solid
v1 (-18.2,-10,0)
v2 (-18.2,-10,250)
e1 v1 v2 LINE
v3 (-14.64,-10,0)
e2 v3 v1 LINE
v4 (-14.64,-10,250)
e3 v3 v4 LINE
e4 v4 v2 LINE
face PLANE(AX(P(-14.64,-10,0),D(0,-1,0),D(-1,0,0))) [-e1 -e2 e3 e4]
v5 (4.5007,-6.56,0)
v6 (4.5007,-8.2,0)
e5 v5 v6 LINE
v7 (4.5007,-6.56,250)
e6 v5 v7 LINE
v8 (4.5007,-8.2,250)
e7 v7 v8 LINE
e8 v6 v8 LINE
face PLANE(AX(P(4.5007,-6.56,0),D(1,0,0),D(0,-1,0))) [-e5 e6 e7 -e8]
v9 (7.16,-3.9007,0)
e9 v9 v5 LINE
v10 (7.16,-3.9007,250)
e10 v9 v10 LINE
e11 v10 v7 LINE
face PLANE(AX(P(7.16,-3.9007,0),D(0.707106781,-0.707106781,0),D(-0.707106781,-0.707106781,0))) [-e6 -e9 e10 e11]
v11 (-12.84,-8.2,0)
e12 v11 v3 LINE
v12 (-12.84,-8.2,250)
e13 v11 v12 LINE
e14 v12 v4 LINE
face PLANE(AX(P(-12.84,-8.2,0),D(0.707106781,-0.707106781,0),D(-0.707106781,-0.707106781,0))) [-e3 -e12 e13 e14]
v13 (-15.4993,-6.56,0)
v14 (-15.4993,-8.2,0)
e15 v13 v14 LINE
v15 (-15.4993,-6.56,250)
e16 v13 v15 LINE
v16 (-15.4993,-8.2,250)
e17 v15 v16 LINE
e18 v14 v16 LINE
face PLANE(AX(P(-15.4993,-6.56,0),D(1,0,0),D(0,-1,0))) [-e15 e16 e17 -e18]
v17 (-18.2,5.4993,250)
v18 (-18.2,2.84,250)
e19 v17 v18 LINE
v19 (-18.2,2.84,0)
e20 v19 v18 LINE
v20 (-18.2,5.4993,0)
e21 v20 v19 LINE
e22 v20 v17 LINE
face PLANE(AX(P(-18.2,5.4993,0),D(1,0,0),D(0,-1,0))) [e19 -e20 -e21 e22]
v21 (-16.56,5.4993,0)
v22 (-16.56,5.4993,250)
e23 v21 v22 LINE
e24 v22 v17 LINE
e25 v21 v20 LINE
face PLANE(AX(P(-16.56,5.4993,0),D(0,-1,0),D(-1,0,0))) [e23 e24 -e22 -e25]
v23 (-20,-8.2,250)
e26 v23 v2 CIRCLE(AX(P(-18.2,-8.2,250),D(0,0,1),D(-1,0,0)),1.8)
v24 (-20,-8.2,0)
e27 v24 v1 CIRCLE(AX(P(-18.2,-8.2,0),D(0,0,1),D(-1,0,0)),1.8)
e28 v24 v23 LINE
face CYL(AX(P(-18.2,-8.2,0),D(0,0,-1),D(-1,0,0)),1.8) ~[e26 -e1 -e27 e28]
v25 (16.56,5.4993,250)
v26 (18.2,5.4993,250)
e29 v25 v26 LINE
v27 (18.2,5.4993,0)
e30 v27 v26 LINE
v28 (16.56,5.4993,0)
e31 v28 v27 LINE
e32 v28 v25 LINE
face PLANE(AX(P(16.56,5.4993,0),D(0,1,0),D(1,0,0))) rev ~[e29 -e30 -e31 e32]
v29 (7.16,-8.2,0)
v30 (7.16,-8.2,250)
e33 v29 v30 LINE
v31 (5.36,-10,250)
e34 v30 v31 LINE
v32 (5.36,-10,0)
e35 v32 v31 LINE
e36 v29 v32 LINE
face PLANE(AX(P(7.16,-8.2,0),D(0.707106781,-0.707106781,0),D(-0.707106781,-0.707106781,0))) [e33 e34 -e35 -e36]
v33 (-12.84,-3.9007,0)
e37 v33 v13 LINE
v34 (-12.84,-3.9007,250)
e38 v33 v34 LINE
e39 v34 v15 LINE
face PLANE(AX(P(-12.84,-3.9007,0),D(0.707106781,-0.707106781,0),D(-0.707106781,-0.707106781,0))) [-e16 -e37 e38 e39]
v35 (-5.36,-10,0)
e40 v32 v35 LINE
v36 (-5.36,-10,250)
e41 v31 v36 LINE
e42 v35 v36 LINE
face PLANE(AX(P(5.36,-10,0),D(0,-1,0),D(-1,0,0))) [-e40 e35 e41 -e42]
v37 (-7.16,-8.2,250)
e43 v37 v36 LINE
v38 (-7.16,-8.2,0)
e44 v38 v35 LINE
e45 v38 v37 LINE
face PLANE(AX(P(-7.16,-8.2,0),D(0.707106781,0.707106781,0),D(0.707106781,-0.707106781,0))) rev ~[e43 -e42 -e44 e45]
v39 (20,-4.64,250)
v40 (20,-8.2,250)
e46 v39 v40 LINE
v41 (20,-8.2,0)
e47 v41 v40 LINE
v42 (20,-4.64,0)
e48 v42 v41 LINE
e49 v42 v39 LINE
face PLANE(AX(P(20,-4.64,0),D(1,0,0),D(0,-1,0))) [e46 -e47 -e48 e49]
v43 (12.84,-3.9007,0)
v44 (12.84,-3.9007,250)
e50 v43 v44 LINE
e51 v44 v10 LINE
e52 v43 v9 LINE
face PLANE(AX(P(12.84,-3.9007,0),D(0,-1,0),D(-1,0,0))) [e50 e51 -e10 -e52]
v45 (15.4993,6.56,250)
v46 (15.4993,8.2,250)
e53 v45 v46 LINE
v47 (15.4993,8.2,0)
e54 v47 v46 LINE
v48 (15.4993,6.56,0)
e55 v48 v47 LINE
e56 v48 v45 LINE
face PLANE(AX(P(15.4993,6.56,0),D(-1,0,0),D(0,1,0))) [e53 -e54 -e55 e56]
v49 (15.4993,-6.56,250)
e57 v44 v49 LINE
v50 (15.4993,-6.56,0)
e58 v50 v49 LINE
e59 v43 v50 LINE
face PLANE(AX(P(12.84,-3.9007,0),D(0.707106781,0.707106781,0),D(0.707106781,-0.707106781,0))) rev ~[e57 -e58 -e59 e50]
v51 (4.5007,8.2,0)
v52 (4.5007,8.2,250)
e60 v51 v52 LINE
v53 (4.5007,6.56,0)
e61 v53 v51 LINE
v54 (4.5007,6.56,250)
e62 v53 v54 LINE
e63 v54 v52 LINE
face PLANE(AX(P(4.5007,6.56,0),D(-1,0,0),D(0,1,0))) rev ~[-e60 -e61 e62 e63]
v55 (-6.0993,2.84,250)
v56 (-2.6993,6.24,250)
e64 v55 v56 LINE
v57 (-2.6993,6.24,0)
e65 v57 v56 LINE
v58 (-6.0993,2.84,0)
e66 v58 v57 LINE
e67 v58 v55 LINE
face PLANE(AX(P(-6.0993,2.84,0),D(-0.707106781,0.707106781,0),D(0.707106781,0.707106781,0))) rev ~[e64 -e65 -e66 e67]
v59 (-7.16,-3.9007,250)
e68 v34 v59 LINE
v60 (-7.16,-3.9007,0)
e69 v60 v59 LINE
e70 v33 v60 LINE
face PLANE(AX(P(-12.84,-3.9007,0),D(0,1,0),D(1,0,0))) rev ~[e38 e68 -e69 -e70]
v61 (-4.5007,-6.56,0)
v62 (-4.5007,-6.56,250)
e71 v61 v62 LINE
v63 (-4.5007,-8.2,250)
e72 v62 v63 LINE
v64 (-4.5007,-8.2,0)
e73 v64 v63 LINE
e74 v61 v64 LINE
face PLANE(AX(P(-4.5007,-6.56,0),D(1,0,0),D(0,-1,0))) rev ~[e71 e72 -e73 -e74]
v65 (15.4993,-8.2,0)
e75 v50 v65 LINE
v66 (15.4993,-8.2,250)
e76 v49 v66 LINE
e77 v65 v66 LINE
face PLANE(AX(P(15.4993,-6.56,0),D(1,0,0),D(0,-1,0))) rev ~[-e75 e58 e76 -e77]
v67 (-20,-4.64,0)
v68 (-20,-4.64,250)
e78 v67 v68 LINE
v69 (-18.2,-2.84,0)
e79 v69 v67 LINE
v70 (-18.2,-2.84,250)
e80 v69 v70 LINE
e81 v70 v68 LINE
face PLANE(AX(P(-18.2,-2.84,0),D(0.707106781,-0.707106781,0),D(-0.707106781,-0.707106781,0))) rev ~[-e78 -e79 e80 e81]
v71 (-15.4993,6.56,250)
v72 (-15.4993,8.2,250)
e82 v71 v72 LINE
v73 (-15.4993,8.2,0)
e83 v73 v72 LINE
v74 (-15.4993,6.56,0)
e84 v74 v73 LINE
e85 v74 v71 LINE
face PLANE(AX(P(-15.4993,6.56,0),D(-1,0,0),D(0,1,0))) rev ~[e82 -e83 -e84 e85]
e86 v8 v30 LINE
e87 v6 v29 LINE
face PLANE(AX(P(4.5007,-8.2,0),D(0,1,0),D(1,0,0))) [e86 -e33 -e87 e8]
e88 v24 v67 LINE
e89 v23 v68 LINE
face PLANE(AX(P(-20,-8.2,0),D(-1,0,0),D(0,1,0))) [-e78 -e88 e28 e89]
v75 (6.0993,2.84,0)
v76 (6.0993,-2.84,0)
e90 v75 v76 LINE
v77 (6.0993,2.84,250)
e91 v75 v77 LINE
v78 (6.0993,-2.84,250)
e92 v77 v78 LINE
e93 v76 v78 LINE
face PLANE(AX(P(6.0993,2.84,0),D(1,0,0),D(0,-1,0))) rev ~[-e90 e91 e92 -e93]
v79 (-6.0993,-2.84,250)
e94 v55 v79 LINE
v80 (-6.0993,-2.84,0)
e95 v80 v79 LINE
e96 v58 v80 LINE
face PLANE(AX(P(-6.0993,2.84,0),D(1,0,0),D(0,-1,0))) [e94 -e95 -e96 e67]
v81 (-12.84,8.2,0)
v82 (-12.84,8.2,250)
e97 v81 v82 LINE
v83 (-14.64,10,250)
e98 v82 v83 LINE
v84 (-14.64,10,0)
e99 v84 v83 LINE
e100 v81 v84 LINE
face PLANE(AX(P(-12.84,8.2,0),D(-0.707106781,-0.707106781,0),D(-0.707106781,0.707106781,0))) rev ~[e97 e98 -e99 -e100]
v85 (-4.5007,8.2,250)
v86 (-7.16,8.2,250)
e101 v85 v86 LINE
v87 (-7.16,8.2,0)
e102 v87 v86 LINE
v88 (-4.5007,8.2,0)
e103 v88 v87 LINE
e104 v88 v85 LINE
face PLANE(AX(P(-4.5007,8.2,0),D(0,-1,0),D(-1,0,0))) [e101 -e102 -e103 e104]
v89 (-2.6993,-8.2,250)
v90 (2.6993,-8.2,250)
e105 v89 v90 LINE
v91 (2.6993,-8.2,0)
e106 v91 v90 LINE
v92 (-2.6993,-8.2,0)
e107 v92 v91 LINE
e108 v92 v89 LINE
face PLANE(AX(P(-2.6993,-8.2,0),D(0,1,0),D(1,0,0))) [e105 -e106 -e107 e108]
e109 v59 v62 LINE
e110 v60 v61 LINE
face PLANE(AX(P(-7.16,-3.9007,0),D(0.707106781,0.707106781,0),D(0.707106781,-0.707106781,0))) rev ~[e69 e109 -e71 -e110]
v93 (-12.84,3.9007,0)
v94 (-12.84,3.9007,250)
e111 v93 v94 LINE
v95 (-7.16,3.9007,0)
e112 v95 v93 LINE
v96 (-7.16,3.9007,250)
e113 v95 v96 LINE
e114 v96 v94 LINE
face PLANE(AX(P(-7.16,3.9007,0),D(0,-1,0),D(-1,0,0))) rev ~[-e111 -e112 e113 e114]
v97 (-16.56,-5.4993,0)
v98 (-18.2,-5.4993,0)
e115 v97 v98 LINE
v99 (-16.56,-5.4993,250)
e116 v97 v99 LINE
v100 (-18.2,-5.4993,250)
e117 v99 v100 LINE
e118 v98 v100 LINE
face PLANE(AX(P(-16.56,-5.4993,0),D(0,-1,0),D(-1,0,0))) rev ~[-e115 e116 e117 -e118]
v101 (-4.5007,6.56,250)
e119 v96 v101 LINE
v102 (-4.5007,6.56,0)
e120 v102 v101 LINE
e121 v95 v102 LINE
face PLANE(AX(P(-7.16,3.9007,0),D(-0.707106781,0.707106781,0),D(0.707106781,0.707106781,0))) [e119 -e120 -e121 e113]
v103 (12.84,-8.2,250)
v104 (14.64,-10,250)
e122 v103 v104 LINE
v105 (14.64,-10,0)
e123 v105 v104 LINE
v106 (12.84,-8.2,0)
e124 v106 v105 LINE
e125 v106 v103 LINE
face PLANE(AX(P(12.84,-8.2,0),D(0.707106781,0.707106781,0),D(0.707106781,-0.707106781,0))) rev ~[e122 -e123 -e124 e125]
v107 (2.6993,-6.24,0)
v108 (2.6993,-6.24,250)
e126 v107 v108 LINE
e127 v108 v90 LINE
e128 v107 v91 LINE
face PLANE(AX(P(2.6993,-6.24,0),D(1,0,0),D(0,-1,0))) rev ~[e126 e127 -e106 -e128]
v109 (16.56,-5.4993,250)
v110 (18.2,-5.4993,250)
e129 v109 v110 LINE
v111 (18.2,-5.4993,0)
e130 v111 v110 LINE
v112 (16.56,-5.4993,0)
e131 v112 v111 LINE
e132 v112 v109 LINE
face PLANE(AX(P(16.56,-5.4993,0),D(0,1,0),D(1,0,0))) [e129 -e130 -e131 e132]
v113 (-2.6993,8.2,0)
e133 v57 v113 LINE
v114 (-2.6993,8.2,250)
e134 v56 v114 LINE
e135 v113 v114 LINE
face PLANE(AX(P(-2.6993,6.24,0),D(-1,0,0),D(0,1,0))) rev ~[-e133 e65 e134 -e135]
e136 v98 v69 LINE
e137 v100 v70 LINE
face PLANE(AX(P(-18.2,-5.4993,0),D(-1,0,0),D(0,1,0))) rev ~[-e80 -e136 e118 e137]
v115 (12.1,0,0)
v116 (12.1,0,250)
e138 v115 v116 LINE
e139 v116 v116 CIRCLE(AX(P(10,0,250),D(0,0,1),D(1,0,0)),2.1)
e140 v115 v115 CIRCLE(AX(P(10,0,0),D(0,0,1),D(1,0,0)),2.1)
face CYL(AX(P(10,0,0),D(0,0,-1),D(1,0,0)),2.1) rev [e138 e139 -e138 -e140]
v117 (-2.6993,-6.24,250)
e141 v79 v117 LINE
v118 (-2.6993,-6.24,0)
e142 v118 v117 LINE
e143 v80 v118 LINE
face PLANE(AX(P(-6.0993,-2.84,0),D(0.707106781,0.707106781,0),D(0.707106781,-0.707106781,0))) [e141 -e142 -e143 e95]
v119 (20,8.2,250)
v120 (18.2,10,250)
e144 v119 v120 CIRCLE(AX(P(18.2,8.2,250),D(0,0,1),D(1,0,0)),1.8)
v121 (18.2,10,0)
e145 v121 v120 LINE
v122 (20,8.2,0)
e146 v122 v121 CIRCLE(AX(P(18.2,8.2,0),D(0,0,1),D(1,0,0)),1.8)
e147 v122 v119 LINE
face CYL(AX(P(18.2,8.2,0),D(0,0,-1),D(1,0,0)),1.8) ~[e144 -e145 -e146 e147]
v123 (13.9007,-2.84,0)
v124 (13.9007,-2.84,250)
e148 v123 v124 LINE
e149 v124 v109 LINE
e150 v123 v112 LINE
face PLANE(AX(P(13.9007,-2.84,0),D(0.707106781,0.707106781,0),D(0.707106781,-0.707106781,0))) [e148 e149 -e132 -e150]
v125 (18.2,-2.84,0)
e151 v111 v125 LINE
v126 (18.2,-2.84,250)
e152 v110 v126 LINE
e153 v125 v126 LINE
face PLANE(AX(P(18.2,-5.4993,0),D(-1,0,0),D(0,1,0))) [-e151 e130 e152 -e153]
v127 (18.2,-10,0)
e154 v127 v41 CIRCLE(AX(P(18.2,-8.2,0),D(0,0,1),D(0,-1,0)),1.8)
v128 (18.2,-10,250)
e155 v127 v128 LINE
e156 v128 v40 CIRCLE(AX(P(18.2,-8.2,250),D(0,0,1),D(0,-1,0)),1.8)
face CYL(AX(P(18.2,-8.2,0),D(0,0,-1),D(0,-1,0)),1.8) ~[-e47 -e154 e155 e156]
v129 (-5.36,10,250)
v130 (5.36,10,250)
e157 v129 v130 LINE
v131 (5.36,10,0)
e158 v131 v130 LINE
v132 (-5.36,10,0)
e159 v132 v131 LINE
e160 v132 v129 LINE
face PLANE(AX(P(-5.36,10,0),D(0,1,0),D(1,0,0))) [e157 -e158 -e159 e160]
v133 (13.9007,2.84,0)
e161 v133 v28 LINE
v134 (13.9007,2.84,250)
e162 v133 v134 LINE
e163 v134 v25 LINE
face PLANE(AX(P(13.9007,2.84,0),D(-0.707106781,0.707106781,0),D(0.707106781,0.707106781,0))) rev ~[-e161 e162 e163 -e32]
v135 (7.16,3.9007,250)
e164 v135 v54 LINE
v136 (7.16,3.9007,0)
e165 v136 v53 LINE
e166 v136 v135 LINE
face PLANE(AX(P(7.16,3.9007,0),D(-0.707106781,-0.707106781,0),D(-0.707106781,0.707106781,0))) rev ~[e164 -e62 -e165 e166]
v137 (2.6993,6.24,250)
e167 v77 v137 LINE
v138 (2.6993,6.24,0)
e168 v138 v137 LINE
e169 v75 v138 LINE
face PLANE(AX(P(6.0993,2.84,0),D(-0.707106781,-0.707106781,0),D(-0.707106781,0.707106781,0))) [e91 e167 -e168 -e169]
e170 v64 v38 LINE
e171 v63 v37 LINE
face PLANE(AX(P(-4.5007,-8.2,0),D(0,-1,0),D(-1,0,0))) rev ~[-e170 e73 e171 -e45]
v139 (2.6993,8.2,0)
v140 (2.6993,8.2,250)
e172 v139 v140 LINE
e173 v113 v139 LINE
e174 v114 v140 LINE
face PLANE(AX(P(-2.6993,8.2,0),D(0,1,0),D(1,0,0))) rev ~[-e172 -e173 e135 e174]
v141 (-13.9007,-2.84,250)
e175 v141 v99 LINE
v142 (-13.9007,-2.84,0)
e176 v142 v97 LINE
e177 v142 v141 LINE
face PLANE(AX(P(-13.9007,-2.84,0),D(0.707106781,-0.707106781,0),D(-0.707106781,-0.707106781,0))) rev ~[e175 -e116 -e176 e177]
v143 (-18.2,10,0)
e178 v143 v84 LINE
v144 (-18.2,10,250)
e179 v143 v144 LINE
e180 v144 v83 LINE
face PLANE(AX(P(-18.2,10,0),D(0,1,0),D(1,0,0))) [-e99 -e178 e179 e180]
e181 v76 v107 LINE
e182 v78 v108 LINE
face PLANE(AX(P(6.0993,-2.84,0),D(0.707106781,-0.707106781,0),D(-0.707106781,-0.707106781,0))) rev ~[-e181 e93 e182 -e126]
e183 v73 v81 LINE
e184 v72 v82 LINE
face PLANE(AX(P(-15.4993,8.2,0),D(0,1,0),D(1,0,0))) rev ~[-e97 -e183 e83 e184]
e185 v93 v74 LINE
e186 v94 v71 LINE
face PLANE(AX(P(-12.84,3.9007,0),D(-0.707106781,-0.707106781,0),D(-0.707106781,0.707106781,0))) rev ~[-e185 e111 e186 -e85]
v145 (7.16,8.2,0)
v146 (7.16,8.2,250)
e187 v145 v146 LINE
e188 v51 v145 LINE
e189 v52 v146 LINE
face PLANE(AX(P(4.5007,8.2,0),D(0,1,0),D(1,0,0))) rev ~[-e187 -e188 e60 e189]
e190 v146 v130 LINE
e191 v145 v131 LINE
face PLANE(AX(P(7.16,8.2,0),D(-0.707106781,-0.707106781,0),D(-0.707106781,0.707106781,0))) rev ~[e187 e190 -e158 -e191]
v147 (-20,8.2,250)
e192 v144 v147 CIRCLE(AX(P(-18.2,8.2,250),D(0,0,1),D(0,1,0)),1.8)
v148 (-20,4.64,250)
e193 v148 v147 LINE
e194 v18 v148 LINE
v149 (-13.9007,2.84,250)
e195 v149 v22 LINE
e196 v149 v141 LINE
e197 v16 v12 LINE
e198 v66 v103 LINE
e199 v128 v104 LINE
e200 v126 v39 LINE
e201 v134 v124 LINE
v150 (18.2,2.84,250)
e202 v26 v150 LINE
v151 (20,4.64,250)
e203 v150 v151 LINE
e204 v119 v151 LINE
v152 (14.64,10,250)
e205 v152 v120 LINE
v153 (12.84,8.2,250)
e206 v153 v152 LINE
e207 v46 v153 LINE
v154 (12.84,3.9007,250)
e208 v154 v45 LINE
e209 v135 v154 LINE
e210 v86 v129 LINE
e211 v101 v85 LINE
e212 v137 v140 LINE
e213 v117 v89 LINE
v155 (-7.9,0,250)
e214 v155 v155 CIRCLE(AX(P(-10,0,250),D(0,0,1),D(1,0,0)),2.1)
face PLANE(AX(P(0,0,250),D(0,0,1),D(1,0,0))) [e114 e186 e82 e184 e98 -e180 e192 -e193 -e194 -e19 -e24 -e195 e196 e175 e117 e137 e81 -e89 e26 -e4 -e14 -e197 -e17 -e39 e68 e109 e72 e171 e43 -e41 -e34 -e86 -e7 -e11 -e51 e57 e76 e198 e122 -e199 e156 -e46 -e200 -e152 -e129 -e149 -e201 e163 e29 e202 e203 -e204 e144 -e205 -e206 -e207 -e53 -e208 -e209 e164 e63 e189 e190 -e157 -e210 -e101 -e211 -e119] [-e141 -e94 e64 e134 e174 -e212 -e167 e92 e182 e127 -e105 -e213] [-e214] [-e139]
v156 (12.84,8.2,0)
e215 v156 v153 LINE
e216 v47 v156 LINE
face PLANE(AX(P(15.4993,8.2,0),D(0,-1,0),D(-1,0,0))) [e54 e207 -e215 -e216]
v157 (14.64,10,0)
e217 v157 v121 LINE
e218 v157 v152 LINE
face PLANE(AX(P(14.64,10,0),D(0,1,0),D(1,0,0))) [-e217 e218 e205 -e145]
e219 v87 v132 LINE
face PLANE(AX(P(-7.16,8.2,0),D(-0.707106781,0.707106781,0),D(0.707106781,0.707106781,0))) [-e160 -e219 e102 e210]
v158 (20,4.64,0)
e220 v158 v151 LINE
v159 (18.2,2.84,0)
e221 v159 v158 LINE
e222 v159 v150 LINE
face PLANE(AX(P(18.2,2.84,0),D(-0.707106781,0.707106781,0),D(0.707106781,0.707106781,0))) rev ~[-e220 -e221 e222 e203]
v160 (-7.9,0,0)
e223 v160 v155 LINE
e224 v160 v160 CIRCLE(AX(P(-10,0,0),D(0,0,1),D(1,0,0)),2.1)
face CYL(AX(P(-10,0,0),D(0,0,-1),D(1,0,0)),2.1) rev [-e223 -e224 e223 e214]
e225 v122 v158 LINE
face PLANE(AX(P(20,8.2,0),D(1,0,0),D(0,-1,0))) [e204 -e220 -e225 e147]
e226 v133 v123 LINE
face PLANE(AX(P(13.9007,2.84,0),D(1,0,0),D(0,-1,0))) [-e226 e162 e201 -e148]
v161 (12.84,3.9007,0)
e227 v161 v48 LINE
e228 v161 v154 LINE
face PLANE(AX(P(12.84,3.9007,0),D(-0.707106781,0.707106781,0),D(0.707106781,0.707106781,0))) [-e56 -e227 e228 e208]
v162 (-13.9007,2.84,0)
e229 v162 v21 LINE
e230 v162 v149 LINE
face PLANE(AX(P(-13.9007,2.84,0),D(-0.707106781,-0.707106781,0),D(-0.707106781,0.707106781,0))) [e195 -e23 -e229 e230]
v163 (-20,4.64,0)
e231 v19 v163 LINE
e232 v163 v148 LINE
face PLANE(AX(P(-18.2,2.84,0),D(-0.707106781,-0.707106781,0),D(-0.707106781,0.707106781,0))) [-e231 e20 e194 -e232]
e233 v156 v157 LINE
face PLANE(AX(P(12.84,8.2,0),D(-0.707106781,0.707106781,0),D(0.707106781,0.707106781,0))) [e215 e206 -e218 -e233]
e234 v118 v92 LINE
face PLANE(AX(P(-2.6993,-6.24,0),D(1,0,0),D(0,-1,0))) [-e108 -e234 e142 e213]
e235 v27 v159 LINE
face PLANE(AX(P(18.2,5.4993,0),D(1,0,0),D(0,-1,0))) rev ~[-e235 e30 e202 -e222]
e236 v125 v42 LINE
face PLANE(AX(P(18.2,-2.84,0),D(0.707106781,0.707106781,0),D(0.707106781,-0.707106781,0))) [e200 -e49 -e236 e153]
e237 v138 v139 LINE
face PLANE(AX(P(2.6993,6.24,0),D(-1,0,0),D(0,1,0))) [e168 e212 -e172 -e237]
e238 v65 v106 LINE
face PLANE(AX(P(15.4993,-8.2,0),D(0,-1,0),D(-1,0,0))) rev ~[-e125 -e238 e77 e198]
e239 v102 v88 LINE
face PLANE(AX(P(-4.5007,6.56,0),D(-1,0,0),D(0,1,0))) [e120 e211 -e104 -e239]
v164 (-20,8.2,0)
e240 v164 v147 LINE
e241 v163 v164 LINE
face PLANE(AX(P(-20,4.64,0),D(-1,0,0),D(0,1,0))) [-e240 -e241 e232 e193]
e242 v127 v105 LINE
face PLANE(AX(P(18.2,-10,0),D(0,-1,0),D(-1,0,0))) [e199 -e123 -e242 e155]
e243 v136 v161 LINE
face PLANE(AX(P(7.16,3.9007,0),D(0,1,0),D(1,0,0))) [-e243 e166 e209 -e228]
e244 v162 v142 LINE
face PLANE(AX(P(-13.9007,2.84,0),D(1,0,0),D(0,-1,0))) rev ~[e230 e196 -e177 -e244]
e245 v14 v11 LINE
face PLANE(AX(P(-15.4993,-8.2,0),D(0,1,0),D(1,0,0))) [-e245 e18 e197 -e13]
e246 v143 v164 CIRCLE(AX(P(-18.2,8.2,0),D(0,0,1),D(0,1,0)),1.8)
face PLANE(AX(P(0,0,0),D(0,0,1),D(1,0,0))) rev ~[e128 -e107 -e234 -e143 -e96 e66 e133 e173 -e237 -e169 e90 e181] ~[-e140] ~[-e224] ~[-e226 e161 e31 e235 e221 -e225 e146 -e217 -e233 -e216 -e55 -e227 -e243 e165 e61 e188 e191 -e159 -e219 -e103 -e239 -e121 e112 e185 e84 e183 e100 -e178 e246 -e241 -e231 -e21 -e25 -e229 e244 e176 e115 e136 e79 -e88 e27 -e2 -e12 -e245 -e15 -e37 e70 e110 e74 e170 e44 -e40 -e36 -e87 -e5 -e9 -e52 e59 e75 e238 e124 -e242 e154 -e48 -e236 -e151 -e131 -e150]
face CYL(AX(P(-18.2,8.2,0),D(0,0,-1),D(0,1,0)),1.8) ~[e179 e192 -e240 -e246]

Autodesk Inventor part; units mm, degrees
ref_plane "YZ Plane" through (0, 0, 0) normal (1, 0, 0) x (0, 1, 0)
ref_plane "Start Plane" through (0, 0, 0) normal (0, 0, 1) x (1, 0, 0)
ref_plane "End Plane" through (0, 0, 10) normal (0, 0, 1) x (1, 0, 0)
sketch "Sketch3" plane through (0, 0, 0) normal (0, 0, 1) x (1, 0, 0)
  line L0 (0, 0) -> (0, 10) construction
  line L1 (-10, 10) -> (-10, 0) construction
  line L2 (0, 0) -> (-10, 0) construction
  circle A0 centre (-10, 0) radius 2.1
  line L3 (-13.9007, 3.9007) -> (-6.0993, 3.9007) construction
  line L4 (-6.0993, 3.9007) -> (-6.0993, -3.9007) construction
  line L5 (-6.0993, -3.9007) -> (-13.9007, -3.9007) construction
  line L6 (-13.9007, -3.9007) -> (-13.9007, 3.9007) construction
  line L7 (-13.9007, 3.9007) -> (-6.0993, -3.9007) construction
  line L8 (-6.0993, 3.9007) -> (-13.9007, -3.9007) construction
  line L9 (-13.9007, -2.84) -> (-12.84, -3.9007) construction
  line L10 (-13.9007, -2.84) -> (-12.4007, -2.84) construction
  line L11 (-12.84, -3.9007) -> (-15.4993, -6.56)
  line L12 (-15.4993, -6.56) -> (-15.4993, -8.2)
  line L13 (-15.4993, -8.2) -> (-12.84, -8.2)
  line L14 (-12.84, -8.2) -> (-14.64, -10)
  line L15 (-7.16, -3.9007) -> (-4.5007, -6.56)
  line L16 (-4.5007, -6.56) -> (-4.5007, -8.2)
  line L17 (-4.5007, -8.2) -> (-7.16, -8.2)
  line L18 (-7.16, -8.2) -> (-5.36, -10)
  line L19 (-12.84, -3.9007) -> (-7.16, -3.9007)
  line L20 (-12.84, 3.9007) -> (-13.9007, 2.84) construction
  line L21 (-12.84, 3.9007) -> (-12.84, 2.4007) construction
  line L22 (-13.9007, 2.84) -> (-16.56, 5.4993)
  line L23 (-16.56, 5.4993) -> (-18.2, 5.4993)
  line L24 (-18.2, 5.4993) -> (-18.2, 2.84)
  line L25 (-18.2, 2.84) -> (-20, 4.64)
  line L26 (-18.2, -2.84) -> (-20, -4.64)
  line L27 (-18.2, -5.4993) -> (-18.2, -2.84)
  line L28 (-16.56, -5.4993) -> (-18.2, -5.4993)
  line L29 (-13.9007, -2.84) -> (-16.56, -5.4993)
  line L30 (-13.9007, 2.84) -> (-13.9007, -2.84)
  line L31 (-6.0993, 2.84) -> (-7.16, 3.9007) construction
  line L32 (-6.0993, 2.84) -> (-7.5993, 2.84) construction
  line L33 (-7.16, 3.9007) -> (-4.5007, 6.56)
  line L34 (-4.5007, 6.56) -> (-4.5007, 8.2)
  line L35 (-4.5007, 8.2) -> (-7.16, 8.2)
  line L36 (-7.16, 8.2) -> (-5.36, 10)
  line L37 (-12.84, 8.2) -> (-14.64, 10)
  line L38 (-15.4993, 8.2) -> (-12.84, 8.2)
  line L39 (-15.4993, 6.56) -> (-15.4993, 8.2)
  line L40 (-12.84, 3.9007) -> (-15.4993, 6.56)
  line L41 (-7.16, 3.9007) -> (-12.84, 3.9007)
  line L42 (-6.0993, 2.84) -> (-2.6993, 6.24)
  line L43 (-2.6993, 6.24) -> (-2.6993, 8.2)
  line L44 (-4.5007, 8.2) -> (0, 8.2) construction
  line L45 (-6.0993, -2.84) -> (-2.6993, -6.24)
  line L46 (-2.6993, -6.24) -> (-2.6993, -8.2)
  line L47 (10, 10) -> (10, 0) construction
  circle A1 centre (10, 0) radius 2.1
  line L48 (13.9007, 3.9007) -> (6.0993, -3.9007) construction
  line L49 (13.9007, -2.84) -> (12.84, -3.9007) construction
  line L50 (12.84, -3.9007) -> (15.4993, -6.56)
  line L51 (15.4993, -6.56) -> (15.4993, -8.2)
  line L52 (15.4993, -8.2) -> (12.84, -8.2)
  line L53 (12.84, -8.2) -> (14.64, -10)
  line L54 (7.16, -8.2) -> (5.36, -10)
  line L55 (4.5007, -8.2) -> (7.16, -8.2)
  line L56 (4.5007, -6.56) -> (4.5007, -8.2)
  line L57 (7.16, -3.9007) -> (4.5007, -6.56)
  line L58 (12.84, -3.9007) -> (7.16, -3.9007)
  line L59 (13.9007, 2.84) -> (13.9007, -2.84)
  line L60 (13.9007, 2.84) -> (16.56, 5.4993)
  line L61 (16.56, 5.4993) -> (18.2, 5.4993)
  line L62 (18.2, 5.4993) -> (18.2, 2.84)
  line L63 (18.2, 2.84) -> (20, 4.64)
  line L64 (18.2, -5.4993) -> (18.2, -2.84)
  line L65 (18.2, -2.84) -> (20, -4.64)
  line L66 (16.56, -5.4993) -> (18.2, -5.4993)
  line L67 (13.9007, -2.84) -> (16.56, -5.4993)
  line L68 (7.16, 3.9007) -> (12.84, 3.9007)
  line L69 (7.16, 3.9007) -> (4.5007, 6.56)
  line L70 (4.5007, 6.56) -> (4.5007, 8.2)
  line L71 (4.5007, 8.2) -> (7.16, 8.2)
  line L72 (7.16, 8.2) -> (5.36, 10)
  line L73 (15.4993, 8.2) -> (12.84, 8.2)
  line L74 (12.84, 8.2) -> (14.64, 10)
  line L75 (15.4993, 6.56) -> (15.4993, 8.2)
  line L76 (12.84, 3.9007) -> (15.4993, 6.56)
  line L77 (6.0993, 2.84) -> (2.6993, 6.24)
  line L78 (2.6993, 6.24) -> (2.6993, 8.2)
  line L79 (6.0993, -2.84) -> (2.6993, -6.24)
  line L80 (2.6993, -6.24) -> (2.6993, -8.2)
  line L81 (-14.64, -10) -> (-18.2, -10)
  line L82 (-20, -8.2) -> (-20, -4.64)
  line L83 (-20, 4.64) -> (-20, 8.2)
  line L84 (-18.2, 10) -> (-14.64, 10)
  line L85 (18.2, -10) -> (14.64, -10)
  line L86 (5.36, -10) -> (-5.36, -10)
  line L87 (-5.36, 10) -> (5.36, 10)
  line L88 (14.64, 10) -> (18.2, 10)
  line L89 (20, 8.2) -> (20, 4.64)
  line L90 (20, -4.64) -> (20, -8.2)
  line L91 (-2.6993, -8.2) -> (2.6993, -8.2)
  line L92 (-2.6993, 8.2) -> (2.6993, 8.2)
  line L93 (-6.0993, 2.84) -> (-6.0993, -2.84)
  line L94 (6.0993, 2.84) -> (6.0993, -2.84)
  arc A2 (-20, -8.2) -> (-18.2, -10) centre (-18.2, -8.2) ccw
  arc A3 (-18.2, 10) -> (-20, 8.2) centre (-18.2, 8.2) ccw
  arc A4 (18.2, -10) -> (20, -8.2) centre (18.2, -8.2) ccw
  arc A5 (20, 8.2) -> (18.2, 10) centre (18.2, 8.2) ccw
  point P0 (-13.9007, -3.9007)
  point P1 (-13.9007, 3.9007)
  point P2 (-13.9007, 3.9007)
  point P3 (-6.0993, 3.9007)
  point P4 (6.0993, 3.9007)
  point P5 (13.9007, -3.9007)
  point P6 (12.4007, -2.84)
  point P7 (13.9007, -3.9007)
  point P8 (13.9007, 3.9007)
  point P9 (12.84, 3.9007)
  point P10 (12.84, 2.4007)
  point P11 (13.9007, 3.9007)
  point P12 (6.0993, 3.9007)
  point P13 (7.5993, 2.84)
  point P14 (-20, 10)
  point P15 (20, -10)
  point P16 (20, 10)
  point P17 (-20, -10)
  dimension "d26" = 10
  dimension "d27" = 10
  dimension "d28" = 4.2
  dimension "d29" = 1.5
  dimension "d30" = 45
  dimension "d32" = 45
  dimension "d33" = 1.64
  dimension "d34" = 1.8
  dimension "d35" = 10
  dimension "d36" = 5.68
  dimension "d39" = 180
  dimension "d41" = 1.96
  dimension "d42" = 5.68
  dimension "d45" = 1.8
extrude "Body" add sketch "Sketch3" along normal blind 250
sketch "Sketch4" plane through (0, 0, 0) normal (0, 0, 1) x (1, 0, 0)
  line L0 (0, 0) -> (10, 0)
ref_plane "Work Plane3" through (0, 0, 0) normal (0, -1, 0) x (1, 0, 0)
sketch "Sketch5" plane through (0, 0, 0) normal (0, -1, 0) x (1, 0, 0)
  line L0 (-2, 0) -> (12, 0)
  line L1 (-2, 10) -> (12, 10)
  dimension "d51" = 10
equation "\"d42\" = d36"
equation "\"G_OFFSET_START\" = 0"
equation "\"G_OFFSET_END\" = 0"
equation "\"G_L\" = d51"
properties part number "vslot 20 x 40" material "Aluminum 6061"
